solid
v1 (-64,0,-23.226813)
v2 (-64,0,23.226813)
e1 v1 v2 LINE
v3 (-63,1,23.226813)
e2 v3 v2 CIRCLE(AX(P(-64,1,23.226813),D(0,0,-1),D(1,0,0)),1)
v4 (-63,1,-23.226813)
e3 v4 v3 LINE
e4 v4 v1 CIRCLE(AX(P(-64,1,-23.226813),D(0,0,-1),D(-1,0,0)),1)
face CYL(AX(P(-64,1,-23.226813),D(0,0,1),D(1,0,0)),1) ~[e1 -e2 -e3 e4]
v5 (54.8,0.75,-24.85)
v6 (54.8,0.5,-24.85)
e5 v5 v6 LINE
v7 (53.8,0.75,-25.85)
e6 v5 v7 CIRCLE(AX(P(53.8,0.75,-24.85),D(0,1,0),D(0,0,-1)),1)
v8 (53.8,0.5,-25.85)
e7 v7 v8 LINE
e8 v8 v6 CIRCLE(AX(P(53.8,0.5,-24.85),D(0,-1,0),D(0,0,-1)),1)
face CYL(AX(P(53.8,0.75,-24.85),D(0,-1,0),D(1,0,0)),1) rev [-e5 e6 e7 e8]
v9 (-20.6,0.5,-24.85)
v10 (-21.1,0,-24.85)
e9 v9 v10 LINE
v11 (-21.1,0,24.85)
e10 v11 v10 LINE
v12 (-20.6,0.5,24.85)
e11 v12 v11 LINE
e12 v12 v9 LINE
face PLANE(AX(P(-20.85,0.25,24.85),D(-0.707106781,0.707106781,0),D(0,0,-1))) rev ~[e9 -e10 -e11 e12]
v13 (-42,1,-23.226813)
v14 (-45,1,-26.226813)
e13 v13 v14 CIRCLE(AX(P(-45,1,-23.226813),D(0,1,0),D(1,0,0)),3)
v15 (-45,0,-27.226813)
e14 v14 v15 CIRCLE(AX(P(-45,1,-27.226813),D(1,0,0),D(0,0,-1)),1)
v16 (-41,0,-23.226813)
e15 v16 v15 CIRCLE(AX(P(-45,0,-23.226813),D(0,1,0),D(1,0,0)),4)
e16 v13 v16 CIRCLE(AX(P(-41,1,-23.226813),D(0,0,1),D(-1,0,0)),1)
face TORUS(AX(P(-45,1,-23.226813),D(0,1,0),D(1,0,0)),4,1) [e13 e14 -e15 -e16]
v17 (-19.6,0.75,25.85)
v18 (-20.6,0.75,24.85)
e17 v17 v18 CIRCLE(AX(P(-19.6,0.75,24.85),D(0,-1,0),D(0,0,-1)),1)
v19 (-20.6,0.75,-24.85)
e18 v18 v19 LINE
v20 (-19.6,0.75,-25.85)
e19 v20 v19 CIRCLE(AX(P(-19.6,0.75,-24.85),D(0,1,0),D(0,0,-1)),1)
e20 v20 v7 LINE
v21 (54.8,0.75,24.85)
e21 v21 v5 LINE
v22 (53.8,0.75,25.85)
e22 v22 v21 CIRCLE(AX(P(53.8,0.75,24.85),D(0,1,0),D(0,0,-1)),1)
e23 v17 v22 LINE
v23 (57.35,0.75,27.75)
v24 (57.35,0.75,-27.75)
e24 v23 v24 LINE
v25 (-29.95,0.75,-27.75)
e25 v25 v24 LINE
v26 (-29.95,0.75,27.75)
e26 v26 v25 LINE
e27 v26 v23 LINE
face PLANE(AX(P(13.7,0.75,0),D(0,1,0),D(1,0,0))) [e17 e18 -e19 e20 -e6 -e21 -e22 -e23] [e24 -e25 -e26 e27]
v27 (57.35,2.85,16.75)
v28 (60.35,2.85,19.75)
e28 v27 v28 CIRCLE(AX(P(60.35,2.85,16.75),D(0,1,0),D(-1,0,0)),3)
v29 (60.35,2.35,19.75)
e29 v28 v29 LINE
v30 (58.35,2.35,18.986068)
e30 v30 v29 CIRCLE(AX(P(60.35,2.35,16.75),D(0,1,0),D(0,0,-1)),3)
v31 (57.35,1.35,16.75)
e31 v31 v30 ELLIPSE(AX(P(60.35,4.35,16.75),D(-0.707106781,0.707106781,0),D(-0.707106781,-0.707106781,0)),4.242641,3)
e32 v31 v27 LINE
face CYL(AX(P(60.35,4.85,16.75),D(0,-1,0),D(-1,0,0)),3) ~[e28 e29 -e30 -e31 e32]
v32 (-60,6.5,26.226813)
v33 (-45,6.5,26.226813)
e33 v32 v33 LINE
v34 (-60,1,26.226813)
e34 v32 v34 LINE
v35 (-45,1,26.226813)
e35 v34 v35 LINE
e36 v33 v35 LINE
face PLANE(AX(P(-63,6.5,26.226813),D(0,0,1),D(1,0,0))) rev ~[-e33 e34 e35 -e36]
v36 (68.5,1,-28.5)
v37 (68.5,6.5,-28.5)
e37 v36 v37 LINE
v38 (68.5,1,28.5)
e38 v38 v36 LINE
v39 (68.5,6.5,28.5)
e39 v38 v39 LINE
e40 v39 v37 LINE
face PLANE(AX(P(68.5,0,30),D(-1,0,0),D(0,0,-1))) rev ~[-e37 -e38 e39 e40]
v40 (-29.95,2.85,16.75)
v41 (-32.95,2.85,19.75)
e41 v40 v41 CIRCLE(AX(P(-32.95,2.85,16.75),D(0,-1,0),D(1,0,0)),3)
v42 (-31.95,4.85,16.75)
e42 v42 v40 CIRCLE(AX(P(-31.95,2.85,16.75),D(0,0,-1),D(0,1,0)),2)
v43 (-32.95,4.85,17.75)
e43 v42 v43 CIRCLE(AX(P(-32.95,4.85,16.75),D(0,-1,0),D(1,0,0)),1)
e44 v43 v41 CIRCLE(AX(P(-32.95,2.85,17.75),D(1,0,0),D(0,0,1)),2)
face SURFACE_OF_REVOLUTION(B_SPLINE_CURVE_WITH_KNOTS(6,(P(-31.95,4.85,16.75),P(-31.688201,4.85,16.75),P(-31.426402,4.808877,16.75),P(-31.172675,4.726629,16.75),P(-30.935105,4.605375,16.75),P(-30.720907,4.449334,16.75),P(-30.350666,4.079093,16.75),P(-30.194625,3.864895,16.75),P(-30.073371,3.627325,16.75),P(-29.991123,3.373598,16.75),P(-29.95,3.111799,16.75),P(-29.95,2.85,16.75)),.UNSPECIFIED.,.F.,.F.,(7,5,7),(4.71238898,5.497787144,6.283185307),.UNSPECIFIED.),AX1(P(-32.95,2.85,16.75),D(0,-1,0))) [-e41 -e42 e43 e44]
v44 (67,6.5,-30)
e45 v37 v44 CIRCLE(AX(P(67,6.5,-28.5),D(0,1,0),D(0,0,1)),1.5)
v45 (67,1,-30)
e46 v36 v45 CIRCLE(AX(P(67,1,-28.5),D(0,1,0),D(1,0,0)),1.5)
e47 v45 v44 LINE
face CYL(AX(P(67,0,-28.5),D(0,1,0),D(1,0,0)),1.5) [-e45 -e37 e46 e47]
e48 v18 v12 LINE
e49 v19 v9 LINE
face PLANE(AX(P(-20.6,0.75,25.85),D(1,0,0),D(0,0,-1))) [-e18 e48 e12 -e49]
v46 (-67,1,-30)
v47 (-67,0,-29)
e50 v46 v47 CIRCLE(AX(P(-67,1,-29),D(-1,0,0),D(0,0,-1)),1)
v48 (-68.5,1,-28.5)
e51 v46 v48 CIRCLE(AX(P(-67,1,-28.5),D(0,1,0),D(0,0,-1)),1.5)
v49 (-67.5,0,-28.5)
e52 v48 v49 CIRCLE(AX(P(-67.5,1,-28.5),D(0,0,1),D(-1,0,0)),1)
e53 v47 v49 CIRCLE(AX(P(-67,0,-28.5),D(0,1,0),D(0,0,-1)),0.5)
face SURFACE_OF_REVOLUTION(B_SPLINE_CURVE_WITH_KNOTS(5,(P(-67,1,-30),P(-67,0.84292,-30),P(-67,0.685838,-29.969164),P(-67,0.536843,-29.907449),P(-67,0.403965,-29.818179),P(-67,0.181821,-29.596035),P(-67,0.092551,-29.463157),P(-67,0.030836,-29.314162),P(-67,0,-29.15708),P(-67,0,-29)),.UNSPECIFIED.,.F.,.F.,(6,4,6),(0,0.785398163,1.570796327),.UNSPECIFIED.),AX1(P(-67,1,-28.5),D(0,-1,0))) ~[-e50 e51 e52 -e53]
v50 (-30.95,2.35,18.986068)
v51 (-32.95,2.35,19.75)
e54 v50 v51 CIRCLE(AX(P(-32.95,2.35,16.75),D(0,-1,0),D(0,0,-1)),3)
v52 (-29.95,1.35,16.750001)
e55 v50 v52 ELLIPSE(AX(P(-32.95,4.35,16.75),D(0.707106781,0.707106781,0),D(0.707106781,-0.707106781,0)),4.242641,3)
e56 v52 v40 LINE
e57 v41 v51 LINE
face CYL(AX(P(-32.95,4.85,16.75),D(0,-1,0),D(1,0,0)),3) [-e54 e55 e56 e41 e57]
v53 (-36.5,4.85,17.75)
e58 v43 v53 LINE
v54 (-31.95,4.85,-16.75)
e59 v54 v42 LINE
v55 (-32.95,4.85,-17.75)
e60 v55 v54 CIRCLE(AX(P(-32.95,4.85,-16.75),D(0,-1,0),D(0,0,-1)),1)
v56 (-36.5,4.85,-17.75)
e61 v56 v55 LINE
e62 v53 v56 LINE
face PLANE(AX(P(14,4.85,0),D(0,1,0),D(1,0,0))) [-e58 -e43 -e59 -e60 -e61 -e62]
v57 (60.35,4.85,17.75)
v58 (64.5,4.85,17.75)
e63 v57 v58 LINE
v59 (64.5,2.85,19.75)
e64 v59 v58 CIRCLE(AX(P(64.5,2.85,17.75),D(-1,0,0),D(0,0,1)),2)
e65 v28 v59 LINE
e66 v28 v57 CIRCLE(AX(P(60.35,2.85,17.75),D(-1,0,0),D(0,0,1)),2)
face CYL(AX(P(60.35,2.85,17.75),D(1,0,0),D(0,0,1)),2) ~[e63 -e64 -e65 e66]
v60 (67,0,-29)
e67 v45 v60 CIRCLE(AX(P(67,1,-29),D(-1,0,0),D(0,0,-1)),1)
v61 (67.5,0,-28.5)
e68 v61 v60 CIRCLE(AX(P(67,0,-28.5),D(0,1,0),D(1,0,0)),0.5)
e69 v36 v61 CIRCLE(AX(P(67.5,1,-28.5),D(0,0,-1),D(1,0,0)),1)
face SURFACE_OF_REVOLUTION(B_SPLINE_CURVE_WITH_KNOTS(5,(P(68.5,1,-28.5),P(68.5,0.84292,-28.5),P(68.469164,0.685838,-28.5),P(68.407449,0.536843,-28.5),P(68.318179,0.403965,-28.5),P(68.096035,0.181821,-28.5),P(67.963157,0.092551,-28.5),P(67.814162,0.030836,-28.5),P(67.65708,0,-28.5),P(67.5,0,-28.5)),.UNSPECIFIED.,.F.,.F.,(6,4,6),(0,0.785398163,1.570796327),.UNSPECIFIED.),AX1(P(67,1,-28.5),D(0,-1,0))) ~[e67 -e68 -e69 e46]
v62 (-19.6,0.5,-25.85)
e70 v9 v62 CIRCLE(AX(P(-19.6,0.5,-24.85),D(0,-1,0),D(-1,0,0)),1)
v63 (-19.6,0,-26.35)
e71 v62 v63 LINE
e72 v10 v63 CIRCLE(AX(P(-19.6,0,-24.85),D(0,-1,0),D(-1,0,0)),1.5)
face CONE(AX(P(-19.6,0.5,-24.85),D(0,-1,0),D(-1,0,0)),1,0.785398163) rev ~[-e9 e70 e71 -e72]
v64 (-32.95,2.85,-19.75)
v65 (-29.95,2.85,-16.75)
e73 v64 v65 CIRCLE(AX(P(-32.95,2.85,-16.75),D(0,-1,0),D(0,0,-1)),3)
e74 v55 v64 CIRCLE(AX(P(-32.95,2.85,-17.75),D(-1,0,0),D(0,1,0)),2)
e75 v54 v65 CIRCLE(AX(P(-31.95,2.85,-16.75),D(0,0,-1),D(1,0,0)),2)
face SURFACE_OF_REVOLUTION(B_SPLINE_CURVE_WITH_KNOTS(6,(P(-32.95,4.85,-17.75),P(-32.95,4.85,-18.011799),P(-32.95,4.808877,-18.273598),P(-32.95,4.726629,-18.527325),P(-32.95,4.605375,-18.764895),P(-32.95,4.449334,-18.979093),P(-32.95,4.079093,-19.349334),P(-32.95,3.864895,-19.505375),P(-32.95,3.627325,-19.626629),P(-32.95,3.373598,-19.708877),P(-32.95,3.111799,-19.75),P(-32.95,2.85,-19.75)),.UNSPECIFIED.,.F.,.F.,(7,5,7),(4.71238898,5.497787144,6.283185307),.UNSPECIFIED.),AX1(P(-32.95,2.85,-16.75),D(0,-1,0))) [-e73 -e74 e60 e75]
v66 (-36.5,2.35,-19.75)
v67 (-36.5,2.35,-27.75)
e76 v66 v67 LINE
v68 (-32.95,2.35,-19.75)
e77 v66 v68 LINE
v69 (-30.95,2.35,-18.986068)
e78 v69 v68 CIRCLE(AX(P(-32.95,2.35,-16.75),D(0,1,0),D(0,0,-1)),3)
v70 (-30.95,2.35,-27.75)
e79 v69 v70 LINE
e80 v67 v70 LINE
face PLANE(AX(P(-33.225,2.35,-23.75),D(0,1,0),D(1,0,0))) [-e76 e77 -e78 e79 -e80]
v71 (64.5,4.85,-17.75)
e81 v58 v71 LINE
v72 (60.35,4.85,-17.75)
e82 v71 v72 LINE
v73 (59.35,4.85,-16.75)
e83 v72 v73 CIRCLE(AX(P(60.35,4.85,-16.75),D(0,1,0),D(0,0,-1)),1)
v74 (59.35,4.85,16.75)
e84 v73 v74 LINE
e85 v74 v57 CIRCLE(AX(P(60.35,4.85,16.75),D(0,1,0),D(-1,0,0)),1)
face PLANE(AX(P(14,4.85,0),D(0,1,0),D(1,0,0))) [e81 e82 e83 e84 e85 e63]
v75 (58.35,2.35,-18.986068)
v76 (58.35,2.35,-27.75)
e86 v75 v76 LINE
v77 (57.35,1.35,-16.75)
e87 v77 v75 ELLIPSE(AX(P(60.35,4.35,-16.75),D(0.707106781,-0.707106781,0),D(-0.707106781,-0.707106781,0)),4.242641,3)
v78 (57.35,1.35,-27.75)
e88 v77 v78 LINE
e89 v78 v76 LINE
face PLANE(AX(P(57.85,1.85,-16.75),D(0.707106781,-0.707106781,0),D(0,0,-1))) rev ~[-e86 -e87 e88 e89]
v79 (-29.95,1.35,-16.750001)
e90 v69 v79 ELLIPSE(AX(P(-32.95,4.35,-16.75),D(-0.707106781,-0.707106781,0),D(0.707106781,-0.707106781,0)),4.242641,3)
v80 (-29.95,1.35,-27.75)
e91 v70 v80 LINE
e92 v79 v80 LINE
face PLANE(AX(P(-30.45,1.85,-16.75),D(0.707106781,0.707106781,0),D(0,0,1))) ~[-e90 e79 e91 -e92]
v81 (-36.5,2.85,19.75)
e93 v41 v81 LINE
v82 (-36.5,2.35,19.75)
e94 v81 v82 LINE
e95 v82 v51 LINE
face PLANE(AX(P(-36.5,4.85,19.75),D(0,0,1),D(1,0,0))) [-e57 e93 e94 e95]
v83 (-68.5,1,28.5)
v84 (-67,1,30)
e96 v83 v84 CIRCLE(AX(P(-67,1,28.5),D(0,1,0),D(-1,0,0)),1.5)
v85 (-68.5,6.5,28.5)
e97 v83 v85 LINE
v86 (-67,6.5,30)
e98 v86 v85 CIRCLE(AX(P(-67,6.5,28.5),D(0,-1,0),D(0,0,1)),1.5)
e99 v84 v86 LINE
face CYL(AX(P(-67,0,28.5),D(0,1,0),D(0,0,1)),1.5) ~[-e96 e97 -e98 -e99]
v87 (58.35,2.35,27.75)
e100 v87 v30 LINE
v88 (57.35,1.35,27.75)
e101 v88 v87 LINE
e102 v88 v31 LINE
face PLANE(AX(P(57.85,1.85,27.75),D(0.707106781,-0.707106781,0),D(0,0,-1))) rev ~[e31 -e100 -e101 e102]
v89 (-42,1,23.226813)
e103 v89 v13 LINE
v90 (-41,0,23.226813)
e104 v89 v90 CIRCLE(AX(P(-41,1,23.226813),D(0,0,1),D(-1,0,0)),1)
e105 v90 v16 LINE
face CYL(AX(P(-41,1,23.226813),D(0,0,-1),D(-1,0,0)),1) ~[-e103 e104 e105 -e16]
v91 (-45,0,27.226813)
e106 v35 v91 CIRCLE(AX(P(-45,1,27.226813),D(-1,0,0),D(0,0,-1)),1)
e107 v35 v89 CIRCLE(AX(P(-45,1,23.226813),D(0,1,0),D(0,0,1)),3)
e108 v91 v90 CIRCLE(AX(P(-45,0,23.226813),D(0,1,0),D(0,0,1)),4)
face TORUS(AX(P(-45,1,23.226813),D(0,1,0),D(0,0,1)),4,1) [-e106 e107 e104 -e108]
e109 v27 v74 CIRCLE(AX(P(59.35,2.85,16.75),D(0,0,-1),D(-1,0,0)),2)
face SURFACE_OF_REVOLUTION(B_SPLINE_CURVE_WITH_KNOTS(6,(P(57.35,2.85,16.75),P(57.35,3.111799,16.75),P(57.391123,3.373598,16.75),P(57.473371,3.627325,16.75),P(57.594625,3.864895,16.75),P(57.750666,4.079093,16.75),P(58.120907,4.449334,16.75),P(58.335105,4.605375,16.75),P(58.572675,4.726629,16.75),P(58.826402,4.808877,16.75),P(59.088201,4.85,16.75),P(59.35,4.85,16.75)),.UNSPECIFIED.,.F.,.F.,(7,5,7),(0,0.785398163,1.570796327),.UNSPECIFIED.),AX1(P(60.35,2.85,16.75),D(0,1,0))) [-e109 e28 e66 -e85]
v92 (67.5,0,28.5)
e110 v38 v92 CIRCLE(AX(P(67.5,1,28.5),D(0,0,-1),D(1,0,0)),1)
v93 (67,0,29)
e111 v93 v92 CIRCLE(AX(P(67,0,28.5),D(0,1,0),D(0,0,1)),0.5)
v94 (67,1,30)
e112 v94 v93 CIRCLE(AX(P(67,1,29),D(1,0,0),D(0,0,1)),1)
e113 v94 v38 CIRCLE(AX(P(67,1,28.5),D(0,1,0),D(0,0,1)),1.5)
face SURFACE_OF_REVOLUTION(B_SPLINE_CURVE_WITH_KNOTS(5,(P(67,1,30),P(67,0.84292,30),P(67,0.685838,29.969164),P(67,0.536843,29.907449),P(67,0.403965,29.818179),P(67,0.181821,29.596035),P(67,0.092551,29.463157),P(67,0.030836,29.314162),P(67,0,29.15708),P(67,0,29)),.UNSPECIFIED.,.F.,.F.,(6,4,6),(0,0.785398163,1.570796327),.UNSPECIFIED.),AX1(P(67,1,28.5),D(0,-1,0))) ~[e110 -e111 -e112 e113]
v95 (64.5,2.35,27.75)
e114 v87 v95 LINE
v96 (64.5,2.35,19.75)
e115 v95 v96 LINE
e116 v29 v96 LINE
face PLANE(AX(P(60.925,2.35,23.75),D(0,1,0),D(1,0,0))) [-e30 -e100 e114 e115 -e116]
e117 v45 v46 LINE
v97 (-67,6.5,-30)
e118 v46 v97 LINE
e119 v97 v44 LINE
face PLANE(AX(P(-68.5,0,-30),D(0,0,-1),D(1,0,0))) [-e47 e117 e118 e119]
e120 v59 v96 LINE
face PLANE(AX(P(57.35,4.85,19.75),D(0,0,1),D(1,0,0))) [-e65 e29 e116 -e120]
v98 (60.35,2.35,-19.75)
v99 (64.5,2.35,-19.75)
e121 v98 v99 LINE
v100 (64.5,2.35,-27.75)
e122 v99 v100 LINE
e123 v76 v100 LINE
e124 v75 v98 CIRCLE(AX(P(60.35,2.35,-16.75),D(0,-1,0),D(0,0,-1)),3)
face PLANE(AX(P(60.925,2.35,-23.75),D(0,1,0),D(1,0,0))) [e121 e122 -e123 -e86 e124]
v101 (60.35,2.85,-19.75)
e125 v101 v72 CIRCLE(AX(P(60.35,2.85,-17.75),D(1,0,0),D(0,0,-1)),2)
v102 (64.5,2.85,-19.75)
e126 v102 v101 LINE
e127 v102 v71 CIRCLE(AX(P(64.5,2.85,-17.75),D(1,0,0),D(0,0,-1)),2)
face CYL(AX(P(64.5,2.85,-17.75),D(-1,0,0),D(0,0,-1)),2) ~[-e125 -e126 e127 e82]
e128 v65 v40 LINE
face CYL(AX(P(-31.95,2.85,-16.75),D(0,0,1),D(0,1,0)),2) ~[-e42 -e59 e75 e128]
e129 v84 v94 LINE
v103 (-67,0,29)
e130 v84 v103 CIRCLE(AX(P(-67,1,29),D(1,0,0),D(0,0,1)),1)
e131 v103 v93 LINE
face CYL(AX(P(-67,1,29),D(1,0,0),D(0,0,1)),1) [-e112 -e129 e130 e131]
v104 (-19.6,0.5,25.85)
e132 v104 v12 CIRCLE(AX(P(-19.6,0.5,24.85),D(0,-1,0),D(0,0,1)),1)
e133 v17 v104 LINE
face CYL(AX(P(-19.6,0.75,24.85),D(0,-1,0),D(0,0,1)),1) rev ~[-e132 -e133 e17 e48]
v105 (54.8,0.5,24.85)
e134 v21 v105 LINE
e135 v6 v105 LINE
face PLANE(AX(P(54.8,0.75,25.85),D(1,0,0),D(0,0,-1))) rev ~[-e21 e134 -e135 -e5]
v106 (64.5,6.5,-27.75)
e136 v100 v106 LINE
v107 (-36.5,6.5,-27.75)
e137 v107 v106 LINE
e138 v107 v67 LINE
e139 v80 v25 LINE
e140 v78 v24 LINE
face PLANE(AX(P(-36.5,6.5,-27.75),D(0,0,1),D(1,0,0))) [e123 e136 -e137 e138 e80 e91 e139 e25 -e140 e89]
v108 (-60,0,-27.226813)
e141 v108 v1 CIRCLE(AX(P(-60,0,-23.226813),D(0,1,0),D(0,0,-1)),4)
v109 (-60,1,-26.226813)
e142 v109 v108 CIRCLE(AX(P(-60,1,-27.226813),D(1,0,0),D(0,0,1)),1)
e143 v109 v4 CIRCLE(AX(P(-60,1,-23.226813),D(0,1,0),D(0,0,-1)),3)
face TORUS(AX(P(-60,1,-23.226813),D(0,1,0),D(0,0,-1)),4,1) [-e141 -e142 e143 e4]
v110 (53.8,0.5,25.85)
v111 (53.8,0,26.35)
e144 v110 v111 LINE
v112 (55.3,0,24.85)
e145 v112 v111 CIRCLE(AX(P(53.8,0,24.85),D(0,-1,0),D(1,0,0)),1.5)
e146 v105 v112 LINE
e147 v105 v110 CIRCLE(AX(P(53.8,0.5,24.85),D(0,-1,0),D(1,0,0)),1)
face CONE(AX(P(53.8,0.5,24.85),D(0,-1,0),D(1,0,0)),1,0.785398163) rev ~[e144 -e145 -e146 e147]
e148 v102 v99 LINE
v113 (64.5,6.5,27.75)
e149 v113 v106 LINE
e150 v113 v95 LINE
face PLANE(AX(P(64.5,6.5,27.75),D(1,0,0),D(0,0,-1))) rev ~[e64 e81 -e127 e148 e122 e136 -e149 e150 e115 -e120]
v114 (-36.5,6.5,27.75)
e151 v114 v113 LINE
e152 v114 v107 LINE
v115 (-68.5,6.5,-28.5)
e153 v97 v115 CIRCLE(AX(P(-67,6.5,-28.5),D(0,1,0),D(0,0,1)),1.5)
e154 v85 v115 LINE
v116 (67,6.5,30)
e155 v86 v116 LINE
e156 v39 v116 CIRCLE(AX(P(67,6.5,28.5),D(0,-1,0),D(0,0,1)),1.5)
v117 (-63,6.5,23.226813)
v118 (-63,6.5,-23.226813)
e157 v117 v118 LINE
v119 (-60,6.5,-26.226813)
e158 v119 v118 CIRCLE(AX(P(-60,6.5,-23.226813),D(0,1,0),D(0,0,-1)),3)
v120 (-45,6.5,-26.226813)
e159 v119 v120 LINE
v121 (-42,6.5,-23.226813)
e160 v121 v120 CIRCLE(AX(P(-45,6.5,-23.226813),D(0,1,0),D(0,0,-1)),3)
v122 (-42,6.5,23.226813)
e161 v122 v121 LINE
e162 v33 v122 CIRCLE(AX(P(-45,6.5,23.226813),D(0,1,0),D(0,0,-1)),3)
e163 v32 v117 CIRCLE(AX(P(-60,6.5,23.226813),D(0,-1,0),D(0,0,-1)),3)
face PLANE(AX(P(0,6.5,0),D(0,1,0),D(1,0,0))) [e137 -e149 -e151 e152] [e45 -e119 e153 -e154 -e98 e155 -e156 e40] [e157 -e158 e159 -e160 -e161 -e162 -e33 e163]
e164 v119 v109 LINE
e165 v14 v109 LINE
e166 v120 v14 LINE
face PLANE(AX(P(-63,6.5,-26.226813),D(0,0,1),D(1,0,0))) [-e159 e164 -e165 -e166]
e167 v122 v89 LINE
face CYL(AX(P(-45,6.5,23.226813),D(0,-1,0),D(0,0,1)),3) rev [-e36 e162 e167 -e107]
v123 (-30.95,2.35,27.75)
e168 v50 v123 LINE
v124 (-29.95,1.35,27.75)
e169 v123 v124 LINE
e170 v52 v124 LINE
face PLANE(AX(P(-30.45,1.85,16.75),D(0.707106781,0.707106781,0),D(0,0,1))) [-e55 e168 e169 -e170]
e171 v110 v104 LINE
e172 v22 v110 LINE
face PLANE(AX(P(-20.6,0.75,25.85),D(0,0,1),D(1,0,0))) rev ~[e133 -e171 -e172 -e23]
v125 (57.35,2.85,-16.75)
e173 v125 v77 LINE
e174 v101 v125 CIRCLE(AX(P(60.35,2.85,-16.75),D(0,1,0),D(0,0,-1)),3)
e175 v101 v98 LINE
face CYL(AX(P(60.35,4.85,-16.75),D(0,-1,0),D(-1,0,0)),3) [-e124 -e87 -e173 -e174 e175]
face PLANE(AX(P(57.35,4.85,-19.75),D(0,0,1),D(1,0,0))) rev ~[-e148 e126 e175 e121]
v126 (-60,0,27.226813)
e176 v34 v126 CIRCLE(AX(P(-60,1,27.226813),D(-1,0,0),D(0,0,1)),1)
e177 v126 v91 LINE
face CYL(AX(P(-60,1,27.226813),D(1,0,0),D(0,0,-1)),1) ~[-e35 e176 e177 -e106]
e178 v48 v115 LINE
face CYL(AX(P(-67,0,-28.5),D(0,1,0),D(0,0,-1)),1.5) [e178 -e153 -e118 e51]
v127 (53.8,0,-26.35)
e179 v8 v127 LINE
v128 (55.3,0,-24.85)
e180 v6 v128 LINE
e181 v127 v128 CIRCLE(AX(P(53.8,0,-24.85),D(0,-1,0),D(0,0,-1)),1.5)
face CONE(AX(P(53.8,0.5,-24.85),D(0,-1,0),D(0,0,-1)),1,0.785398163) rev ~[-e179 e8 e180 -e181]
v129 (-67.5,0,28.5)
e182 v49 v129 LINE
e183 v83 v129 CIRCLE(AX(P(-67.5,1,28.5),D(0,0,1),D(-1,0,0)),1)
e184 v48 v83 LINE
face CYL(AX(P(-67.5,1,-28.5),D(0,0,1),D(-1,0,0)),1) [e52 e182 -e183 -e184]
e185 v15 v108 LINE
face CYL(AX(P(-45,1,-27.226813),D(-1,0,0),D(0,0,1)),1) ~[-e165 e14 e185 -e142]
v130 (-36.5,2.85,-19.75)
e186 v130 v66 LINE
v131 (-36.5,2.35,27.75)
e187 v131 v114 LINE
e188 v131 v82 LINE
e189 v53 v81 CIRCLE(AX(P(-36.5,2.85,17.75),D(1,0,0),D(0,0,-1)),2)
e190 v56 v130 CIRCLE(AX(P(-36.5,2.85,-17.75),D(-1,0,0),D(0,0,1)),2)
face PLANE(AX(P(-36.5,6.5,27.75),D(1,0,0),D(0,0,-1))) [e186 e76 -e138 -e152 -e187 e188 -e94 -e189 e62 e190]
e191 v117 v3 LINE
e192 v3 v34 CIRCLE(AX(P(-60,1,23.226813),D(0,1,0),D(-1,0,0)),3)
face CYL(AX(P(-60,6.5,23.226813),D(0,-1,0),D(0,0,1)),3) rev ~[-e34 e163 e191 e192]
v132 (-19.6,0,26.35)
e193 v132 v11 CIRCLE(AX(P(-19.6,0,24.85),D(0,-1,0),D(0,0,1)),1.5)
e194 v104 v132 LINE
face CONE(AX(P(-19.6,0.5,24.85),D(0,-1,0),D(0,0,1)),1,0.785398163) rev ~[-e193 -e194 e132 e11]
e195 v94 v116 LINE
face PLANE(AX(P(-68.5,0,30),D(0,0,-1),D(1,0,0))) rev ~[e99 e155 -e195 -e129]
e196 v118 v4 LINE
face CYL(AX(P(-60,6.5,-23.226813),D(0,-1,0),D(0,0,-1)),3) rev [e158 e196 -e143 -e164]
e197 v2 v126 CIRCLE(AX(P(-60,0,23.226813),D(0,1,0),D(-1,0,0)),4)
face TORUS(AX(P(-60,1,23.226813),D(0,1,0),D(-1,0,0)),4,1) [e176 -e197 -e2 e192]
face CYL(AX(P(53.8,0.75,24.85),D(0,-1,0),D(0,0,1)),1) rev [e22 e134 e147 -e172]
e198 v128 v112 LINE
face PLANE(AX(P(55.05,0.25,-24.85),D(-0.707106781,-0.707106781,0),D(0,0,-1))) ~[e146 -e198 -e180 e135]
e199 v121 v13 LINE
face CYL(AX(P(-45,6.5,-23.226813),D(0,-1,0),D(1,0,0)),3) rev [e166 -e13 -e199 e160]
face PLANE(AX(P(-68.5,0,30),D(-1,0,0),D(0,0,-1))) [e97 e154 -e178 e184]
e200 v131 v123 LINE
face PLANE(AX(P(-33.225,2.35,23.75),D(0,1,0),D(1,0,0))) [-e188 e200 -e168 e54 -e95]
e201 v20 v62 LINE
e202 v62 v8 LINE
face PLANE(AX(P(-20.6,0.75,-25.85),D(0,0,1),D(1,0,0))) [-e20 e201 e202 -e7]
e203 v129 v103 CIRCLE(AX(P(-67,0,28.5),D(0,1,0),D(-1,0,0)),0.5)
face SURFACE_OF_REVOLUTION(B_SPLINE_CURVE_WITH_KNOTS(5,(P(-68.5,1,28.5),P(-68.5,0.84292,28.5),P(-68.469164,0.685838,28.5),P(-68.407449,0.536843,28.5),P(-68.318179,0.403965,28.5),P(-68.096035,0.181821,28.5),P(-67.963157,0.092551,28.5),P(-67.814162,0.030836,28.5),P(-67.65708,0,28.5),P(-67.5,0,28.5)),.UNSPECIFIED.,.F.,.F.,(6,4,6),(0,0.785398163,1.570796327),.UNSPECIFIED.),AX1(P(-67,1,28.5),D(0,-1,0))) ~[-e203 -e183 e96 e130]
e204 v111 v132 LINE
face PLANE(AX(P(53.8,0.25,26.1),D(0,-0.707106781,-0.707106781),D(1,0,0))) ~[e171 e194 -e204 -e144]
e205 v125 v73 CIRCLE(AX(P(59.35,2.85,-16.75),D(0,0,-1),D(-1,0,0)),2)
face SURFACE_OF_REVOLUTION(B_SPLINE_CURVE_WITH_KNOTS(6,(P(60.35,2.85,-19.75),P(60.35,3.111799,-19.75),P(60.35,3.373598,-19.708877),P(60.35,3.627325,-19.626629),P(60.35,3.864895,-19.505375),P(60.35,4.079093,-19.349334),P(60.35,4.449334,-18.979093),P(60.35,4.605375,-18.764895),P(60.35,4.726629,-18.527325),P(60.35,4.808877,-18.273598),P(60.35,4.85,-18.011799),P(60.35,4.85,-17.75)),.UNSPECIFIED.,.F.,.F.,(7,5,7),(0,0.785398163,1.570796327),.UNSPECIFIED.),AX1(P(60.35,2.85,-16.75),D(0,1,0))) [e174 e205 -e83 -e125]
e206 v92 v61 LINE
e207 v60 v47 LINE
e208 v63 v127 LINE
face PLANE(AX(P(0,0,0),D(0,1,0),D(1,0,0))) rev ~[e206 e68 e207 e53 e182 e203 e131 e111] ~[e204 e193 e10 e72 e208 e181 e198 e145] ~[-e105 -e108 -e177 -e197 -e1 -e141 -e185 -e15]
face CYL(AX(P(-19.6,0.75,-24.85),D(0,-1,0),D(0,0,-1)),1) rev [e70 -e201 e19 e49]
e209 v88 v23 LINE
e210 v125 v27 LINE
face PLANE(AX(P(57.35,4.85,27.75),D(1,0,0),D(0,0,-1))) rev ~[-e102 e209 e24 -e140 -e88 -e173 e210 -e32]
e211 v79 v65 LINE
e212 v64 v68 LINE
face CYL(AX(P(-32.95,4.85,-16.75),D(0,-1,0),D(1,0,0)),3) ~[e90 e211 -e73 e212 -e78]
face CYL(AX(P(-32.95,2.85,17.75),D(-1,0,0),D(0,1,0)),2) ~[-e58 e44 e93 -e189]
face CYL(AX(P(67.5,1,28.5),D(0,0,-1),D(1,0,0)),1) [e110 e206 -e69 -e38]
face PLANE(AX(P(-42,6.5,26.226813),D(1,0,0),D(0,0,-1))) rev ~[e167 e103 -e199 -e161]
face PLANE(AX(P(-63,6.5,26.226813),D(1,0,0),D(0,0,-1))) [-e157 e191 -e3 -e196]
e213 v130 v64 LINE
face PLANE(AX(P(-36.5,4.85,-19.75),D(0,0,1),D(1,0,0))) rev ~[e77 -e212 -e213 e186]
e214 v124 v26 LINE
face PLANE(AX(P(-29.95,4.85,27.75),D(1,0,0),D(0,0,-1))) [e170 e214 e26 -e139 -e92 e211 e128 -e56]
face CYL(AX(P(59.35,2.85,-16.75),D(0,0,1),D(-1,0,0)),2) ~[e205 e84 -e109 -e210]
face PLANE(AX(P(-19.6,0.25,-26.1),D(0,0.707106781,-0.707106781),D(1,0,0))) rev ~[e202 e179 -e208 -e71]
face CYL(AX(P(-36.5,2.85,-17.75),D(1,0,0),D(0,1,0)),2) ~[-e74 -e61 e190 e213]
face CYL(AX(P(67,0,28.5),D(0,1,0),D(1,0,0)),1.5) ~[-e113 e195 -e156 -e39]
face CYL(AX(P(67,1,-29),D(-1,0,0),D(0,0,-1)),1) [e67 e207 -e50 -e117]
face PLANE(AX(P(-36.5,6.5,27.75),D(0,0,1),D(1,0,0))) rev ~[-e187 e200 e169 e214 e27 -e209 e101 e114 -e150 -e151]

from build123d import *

# Parameters (mm, degrees)
SKETCH1_W           = 137
SKETCH1_H           = 60
BOSS_EXTRUDE1_DEPTH = 6.5
SKETCH2_W           = 101
SKETCH2_H           = 55.5
CUT_EXTRUDE1_DEPTH  = 1.65
SKETCH3_W           = 87.3
SKETCH3_H           = 55.5
CUT_EXTRUDE2_DEPTH  = 4.1
SKETCH4_W           = 75.4
SKETCH4_H           = 51.7
CUT_EXTRUDE3_DEPTH  = 1.75
FILLET1_R           = 1
SKETCH6_W           = 7.15
SKETCH6_H           = 8
SKETCH6_W_2         = 6.55
CUT_EXTRUDE4_DEPTH  = 2.5
FILLET2_R           = 3
CHAMFER1_SIZE       = 0.5
SKETCH7_W           = 21
SKETCH7_H           = 52.453625608
CUT_EXTRUDE5_DEPTH  = 7.5
FILLET3_R           = 3
FILLET5_R           = 2
CHAMFER3_SIZE       = 1
FILLET6_R           = 1.5
FILLET7_R           = 1


with BuildPart() as part:
    # Sketch1 → Boss-Extrude1 (new body)
    with BuildSketch(Plane(origin=(0, 0, 0), x_dir=(1, 0, 0), z_dir=(0, 1, 0))):
        Rectangle(SKETCH1_W, SKETCH1_H)
    extrude(amount=BOSS_EXTRUDE1_DEPTH)

    # Sketch2 → Cut-Extrude1 (cut)
    with BuildSketch(Plane(origin=(0, 6.5, 0), x_dir=(1, 0, 0), z_dir=(0, 1, 0))):
        with Locations((14, 0)):
            Rectangle(SKETCH2_W, SKETCH2_H)
    extrude(amount=-CUT_EXTRUDE1_DEPTH, mode=Mode.SUBTRACT)

    # Sketch3 → Cut-Extrude2 (cut)
    with BuildSketch(Plane(origin=(0, 4.85, 0), x_dir=(1, 0, 0), z_dir=(0, 1, 0))):
        with Locations((13.7, 0)):
            Rectangle(SKETCH3_W, SKETCH3_H)
    extrude(amount=-CUT_EXTRUDE2_DEPTH, mode=Mode.SUBTRACT)

    # Sketch4 → Cut-Extrude3 (cut, through all)
    with BuildSketch(Plane(origin=(0, 0.75, 0), x_dir=(1, 0, 0), z_dir=(0, 1, 0))):
        with Locations((17.1, 0)):
            Rectangle(SKETCH4_W, SKETCH4_H)
    extrude(amount=-CUT_EXTRUDE3_DEPTH, mode=Mode.SUBTRACT)

    # Fillet1
    fillet1_edges = [part.edges().sort_by_distance(p)[0] for p in [
        (54.8, 0.375, -25.85),
        (54.8, 0.375, 25.85),
        (-20.6, 0.375, 25.85),
        (-20.6, 0.375, -25.85),
    ]]
    fillet(fillet1_edges, radius=FILLET1_R)

    # Sketch6 → Cut-Extrude4 (cut)
    with BuildSketch(Plane(origin=(0, 4.85, 0), x_dir=(1, 0, 0), z_dir=(0, 1, 0))):
        with Locations((60.925, -23.75)):
            Rectangle(SKETCH6_W, SKETCH6_H)
        with Locations((60.925, 23.75)):
            Rectangle(SKETCH6_W, SKETCH6_H)
        with Locations((-33.225, 23.75)):
            Rectangle(SKETCH6_W_2, SKETCH6_H)
        with Locations((-33.225, -23.75)):
            Rectangle(SKETCH6_W_2, SKETCH6_H)
    extrude(amount=-CUT_EXTRUDE4_DEPTH, mode=Mode.SUBTRACT)

    # Fillet2
    fillet2_edges = [part.edges().sort_by_distance(p)[0] for p in [
        (-29.95, 3.6, 19.75),
        (-29.95, 3.6, -19.75),
        (57.35, 3.6, -19.75),
        (57.35, 3.6, 19.75),
    ]]
    fillet(fillet2_edges, radius=FILLET2_R)

    # Chamfer1
    chamfer1_edges = [part.edges().sort_by_distance(p)[0] for p in [
        (17.1, 0, -25.85),
        (54.8, 0, 0),
        (17.1, 0, 25.85),
        (-20.6, 0, 0),
        (54.507106781, 0, -25.557106781),
        (54.507106781, 0, 25.557106781),
        (-20.307106781, 0, 25.557106781),
        (-20.307106781, 0, -25.557106781),
    ]]
    chamfer(chamfer1_edges, length=CHAMFER1_SIZE)

    # Sketch7 → Cut-Extrude5 (cut, through all)
    with BuildSketch(Plane(origin=(0, 6.5, 0), x_dir=(1, 0, 0), z_dir=(0, 1, 0))):
        with Locations((-52.5, 0)):
            Rectangle(SKETCH7_W, SKETCH7_H)
    extrude(amount=-CUT_EXTRUDE5_DEPTH, mode=Mode.SUBTRACT)

    # Fillet3
    fillet3_edges = [part.edges().sort_by_distance(p)[0] for p in [
        (-42, 3.25, -26.226812804),
        (-42, 3.25, 26.226812804),
        (-63, 3.25, 26.226812804),
        (-63, 3.25, -26.226812804),
    ]]
    fillet(fillet3_edges, radius=FILLET3_R)

    # Fillet5
    fillet5_edges = [part.edges().sort_by_distance(p)[0] for p in [
        (-34.725, 4.85, -19.75),
        (62.425, 4.85, 19.75),
        (62.425, 4.85, -19.75),
        (57.35, 4.85, 0),
        (58.228679656, 4.85, 18.871320344),
        (58.228679656, 4.85, -18.871320344),
        (-34.725, 4.85, 19.75),
        (-29.95, 4.85, 0),
        (-30.828679656, 4.85, -18.871320344),
        (-30.828679656, 4.85, 18.871320344),
    ]]
    fillet(fillet5_edges, radius=FILLET5_R)

    # Chamfer3
    chamfer3_edges = [part.edges().sort_by_distance(p)[0] for p in [
        (-29.95, 2.35, 22.25),
        (-29.95, 2.35, -22.25),
        (57.35, 2.35, -22.25),
        (57.35, 2.35, 22.25),
    ]]
    chamfer(chamfer3_edges, length=CHAMFER3_SIZE)

    # Fillet6
    fillet6_edges = [part.edges().sort_by_distance(p)[0] for p in [
        (68.5, 3.25, 30),
        (-68.5, 3.25, 30),
        (-68.5, 3.25, -30),
        (68.5, 3.25, -30),
    ]]
    fillet(fillet6_edges, radius=FILLET6_R)

    # Fillet7
    fillet7_edges = [part.edges().sort_by_distance(p)[0] for p in [
        (-42, 0, 0),
        (-52.5, 0, 26.226812804),
        (-63, 0, 0),
        (-52.5, 0, -26.226812804),
        (-42.878679656, 0, 25.348133148),
        (-62.121320344, 0, 25.348133148),
        (-62.121320344, 0, -25.348133148),
        (-42.878679656, 0, -25.348133148),
        (68.5, 0, 0),
        (0, 0, 30),
        (-68.5, 0, 0),
        (0, 0, -30),
        (68.060660172, 0, -29.560660172),
        (-68.060660172, 0, -29.560660172),
        (-68.060660172, 0, 29.560660172),
        (68.060660172, 0, 29.560660172),
    ]]
    fillet(fillet7_edges, radius=FILLET7_R)


solid = part.part
